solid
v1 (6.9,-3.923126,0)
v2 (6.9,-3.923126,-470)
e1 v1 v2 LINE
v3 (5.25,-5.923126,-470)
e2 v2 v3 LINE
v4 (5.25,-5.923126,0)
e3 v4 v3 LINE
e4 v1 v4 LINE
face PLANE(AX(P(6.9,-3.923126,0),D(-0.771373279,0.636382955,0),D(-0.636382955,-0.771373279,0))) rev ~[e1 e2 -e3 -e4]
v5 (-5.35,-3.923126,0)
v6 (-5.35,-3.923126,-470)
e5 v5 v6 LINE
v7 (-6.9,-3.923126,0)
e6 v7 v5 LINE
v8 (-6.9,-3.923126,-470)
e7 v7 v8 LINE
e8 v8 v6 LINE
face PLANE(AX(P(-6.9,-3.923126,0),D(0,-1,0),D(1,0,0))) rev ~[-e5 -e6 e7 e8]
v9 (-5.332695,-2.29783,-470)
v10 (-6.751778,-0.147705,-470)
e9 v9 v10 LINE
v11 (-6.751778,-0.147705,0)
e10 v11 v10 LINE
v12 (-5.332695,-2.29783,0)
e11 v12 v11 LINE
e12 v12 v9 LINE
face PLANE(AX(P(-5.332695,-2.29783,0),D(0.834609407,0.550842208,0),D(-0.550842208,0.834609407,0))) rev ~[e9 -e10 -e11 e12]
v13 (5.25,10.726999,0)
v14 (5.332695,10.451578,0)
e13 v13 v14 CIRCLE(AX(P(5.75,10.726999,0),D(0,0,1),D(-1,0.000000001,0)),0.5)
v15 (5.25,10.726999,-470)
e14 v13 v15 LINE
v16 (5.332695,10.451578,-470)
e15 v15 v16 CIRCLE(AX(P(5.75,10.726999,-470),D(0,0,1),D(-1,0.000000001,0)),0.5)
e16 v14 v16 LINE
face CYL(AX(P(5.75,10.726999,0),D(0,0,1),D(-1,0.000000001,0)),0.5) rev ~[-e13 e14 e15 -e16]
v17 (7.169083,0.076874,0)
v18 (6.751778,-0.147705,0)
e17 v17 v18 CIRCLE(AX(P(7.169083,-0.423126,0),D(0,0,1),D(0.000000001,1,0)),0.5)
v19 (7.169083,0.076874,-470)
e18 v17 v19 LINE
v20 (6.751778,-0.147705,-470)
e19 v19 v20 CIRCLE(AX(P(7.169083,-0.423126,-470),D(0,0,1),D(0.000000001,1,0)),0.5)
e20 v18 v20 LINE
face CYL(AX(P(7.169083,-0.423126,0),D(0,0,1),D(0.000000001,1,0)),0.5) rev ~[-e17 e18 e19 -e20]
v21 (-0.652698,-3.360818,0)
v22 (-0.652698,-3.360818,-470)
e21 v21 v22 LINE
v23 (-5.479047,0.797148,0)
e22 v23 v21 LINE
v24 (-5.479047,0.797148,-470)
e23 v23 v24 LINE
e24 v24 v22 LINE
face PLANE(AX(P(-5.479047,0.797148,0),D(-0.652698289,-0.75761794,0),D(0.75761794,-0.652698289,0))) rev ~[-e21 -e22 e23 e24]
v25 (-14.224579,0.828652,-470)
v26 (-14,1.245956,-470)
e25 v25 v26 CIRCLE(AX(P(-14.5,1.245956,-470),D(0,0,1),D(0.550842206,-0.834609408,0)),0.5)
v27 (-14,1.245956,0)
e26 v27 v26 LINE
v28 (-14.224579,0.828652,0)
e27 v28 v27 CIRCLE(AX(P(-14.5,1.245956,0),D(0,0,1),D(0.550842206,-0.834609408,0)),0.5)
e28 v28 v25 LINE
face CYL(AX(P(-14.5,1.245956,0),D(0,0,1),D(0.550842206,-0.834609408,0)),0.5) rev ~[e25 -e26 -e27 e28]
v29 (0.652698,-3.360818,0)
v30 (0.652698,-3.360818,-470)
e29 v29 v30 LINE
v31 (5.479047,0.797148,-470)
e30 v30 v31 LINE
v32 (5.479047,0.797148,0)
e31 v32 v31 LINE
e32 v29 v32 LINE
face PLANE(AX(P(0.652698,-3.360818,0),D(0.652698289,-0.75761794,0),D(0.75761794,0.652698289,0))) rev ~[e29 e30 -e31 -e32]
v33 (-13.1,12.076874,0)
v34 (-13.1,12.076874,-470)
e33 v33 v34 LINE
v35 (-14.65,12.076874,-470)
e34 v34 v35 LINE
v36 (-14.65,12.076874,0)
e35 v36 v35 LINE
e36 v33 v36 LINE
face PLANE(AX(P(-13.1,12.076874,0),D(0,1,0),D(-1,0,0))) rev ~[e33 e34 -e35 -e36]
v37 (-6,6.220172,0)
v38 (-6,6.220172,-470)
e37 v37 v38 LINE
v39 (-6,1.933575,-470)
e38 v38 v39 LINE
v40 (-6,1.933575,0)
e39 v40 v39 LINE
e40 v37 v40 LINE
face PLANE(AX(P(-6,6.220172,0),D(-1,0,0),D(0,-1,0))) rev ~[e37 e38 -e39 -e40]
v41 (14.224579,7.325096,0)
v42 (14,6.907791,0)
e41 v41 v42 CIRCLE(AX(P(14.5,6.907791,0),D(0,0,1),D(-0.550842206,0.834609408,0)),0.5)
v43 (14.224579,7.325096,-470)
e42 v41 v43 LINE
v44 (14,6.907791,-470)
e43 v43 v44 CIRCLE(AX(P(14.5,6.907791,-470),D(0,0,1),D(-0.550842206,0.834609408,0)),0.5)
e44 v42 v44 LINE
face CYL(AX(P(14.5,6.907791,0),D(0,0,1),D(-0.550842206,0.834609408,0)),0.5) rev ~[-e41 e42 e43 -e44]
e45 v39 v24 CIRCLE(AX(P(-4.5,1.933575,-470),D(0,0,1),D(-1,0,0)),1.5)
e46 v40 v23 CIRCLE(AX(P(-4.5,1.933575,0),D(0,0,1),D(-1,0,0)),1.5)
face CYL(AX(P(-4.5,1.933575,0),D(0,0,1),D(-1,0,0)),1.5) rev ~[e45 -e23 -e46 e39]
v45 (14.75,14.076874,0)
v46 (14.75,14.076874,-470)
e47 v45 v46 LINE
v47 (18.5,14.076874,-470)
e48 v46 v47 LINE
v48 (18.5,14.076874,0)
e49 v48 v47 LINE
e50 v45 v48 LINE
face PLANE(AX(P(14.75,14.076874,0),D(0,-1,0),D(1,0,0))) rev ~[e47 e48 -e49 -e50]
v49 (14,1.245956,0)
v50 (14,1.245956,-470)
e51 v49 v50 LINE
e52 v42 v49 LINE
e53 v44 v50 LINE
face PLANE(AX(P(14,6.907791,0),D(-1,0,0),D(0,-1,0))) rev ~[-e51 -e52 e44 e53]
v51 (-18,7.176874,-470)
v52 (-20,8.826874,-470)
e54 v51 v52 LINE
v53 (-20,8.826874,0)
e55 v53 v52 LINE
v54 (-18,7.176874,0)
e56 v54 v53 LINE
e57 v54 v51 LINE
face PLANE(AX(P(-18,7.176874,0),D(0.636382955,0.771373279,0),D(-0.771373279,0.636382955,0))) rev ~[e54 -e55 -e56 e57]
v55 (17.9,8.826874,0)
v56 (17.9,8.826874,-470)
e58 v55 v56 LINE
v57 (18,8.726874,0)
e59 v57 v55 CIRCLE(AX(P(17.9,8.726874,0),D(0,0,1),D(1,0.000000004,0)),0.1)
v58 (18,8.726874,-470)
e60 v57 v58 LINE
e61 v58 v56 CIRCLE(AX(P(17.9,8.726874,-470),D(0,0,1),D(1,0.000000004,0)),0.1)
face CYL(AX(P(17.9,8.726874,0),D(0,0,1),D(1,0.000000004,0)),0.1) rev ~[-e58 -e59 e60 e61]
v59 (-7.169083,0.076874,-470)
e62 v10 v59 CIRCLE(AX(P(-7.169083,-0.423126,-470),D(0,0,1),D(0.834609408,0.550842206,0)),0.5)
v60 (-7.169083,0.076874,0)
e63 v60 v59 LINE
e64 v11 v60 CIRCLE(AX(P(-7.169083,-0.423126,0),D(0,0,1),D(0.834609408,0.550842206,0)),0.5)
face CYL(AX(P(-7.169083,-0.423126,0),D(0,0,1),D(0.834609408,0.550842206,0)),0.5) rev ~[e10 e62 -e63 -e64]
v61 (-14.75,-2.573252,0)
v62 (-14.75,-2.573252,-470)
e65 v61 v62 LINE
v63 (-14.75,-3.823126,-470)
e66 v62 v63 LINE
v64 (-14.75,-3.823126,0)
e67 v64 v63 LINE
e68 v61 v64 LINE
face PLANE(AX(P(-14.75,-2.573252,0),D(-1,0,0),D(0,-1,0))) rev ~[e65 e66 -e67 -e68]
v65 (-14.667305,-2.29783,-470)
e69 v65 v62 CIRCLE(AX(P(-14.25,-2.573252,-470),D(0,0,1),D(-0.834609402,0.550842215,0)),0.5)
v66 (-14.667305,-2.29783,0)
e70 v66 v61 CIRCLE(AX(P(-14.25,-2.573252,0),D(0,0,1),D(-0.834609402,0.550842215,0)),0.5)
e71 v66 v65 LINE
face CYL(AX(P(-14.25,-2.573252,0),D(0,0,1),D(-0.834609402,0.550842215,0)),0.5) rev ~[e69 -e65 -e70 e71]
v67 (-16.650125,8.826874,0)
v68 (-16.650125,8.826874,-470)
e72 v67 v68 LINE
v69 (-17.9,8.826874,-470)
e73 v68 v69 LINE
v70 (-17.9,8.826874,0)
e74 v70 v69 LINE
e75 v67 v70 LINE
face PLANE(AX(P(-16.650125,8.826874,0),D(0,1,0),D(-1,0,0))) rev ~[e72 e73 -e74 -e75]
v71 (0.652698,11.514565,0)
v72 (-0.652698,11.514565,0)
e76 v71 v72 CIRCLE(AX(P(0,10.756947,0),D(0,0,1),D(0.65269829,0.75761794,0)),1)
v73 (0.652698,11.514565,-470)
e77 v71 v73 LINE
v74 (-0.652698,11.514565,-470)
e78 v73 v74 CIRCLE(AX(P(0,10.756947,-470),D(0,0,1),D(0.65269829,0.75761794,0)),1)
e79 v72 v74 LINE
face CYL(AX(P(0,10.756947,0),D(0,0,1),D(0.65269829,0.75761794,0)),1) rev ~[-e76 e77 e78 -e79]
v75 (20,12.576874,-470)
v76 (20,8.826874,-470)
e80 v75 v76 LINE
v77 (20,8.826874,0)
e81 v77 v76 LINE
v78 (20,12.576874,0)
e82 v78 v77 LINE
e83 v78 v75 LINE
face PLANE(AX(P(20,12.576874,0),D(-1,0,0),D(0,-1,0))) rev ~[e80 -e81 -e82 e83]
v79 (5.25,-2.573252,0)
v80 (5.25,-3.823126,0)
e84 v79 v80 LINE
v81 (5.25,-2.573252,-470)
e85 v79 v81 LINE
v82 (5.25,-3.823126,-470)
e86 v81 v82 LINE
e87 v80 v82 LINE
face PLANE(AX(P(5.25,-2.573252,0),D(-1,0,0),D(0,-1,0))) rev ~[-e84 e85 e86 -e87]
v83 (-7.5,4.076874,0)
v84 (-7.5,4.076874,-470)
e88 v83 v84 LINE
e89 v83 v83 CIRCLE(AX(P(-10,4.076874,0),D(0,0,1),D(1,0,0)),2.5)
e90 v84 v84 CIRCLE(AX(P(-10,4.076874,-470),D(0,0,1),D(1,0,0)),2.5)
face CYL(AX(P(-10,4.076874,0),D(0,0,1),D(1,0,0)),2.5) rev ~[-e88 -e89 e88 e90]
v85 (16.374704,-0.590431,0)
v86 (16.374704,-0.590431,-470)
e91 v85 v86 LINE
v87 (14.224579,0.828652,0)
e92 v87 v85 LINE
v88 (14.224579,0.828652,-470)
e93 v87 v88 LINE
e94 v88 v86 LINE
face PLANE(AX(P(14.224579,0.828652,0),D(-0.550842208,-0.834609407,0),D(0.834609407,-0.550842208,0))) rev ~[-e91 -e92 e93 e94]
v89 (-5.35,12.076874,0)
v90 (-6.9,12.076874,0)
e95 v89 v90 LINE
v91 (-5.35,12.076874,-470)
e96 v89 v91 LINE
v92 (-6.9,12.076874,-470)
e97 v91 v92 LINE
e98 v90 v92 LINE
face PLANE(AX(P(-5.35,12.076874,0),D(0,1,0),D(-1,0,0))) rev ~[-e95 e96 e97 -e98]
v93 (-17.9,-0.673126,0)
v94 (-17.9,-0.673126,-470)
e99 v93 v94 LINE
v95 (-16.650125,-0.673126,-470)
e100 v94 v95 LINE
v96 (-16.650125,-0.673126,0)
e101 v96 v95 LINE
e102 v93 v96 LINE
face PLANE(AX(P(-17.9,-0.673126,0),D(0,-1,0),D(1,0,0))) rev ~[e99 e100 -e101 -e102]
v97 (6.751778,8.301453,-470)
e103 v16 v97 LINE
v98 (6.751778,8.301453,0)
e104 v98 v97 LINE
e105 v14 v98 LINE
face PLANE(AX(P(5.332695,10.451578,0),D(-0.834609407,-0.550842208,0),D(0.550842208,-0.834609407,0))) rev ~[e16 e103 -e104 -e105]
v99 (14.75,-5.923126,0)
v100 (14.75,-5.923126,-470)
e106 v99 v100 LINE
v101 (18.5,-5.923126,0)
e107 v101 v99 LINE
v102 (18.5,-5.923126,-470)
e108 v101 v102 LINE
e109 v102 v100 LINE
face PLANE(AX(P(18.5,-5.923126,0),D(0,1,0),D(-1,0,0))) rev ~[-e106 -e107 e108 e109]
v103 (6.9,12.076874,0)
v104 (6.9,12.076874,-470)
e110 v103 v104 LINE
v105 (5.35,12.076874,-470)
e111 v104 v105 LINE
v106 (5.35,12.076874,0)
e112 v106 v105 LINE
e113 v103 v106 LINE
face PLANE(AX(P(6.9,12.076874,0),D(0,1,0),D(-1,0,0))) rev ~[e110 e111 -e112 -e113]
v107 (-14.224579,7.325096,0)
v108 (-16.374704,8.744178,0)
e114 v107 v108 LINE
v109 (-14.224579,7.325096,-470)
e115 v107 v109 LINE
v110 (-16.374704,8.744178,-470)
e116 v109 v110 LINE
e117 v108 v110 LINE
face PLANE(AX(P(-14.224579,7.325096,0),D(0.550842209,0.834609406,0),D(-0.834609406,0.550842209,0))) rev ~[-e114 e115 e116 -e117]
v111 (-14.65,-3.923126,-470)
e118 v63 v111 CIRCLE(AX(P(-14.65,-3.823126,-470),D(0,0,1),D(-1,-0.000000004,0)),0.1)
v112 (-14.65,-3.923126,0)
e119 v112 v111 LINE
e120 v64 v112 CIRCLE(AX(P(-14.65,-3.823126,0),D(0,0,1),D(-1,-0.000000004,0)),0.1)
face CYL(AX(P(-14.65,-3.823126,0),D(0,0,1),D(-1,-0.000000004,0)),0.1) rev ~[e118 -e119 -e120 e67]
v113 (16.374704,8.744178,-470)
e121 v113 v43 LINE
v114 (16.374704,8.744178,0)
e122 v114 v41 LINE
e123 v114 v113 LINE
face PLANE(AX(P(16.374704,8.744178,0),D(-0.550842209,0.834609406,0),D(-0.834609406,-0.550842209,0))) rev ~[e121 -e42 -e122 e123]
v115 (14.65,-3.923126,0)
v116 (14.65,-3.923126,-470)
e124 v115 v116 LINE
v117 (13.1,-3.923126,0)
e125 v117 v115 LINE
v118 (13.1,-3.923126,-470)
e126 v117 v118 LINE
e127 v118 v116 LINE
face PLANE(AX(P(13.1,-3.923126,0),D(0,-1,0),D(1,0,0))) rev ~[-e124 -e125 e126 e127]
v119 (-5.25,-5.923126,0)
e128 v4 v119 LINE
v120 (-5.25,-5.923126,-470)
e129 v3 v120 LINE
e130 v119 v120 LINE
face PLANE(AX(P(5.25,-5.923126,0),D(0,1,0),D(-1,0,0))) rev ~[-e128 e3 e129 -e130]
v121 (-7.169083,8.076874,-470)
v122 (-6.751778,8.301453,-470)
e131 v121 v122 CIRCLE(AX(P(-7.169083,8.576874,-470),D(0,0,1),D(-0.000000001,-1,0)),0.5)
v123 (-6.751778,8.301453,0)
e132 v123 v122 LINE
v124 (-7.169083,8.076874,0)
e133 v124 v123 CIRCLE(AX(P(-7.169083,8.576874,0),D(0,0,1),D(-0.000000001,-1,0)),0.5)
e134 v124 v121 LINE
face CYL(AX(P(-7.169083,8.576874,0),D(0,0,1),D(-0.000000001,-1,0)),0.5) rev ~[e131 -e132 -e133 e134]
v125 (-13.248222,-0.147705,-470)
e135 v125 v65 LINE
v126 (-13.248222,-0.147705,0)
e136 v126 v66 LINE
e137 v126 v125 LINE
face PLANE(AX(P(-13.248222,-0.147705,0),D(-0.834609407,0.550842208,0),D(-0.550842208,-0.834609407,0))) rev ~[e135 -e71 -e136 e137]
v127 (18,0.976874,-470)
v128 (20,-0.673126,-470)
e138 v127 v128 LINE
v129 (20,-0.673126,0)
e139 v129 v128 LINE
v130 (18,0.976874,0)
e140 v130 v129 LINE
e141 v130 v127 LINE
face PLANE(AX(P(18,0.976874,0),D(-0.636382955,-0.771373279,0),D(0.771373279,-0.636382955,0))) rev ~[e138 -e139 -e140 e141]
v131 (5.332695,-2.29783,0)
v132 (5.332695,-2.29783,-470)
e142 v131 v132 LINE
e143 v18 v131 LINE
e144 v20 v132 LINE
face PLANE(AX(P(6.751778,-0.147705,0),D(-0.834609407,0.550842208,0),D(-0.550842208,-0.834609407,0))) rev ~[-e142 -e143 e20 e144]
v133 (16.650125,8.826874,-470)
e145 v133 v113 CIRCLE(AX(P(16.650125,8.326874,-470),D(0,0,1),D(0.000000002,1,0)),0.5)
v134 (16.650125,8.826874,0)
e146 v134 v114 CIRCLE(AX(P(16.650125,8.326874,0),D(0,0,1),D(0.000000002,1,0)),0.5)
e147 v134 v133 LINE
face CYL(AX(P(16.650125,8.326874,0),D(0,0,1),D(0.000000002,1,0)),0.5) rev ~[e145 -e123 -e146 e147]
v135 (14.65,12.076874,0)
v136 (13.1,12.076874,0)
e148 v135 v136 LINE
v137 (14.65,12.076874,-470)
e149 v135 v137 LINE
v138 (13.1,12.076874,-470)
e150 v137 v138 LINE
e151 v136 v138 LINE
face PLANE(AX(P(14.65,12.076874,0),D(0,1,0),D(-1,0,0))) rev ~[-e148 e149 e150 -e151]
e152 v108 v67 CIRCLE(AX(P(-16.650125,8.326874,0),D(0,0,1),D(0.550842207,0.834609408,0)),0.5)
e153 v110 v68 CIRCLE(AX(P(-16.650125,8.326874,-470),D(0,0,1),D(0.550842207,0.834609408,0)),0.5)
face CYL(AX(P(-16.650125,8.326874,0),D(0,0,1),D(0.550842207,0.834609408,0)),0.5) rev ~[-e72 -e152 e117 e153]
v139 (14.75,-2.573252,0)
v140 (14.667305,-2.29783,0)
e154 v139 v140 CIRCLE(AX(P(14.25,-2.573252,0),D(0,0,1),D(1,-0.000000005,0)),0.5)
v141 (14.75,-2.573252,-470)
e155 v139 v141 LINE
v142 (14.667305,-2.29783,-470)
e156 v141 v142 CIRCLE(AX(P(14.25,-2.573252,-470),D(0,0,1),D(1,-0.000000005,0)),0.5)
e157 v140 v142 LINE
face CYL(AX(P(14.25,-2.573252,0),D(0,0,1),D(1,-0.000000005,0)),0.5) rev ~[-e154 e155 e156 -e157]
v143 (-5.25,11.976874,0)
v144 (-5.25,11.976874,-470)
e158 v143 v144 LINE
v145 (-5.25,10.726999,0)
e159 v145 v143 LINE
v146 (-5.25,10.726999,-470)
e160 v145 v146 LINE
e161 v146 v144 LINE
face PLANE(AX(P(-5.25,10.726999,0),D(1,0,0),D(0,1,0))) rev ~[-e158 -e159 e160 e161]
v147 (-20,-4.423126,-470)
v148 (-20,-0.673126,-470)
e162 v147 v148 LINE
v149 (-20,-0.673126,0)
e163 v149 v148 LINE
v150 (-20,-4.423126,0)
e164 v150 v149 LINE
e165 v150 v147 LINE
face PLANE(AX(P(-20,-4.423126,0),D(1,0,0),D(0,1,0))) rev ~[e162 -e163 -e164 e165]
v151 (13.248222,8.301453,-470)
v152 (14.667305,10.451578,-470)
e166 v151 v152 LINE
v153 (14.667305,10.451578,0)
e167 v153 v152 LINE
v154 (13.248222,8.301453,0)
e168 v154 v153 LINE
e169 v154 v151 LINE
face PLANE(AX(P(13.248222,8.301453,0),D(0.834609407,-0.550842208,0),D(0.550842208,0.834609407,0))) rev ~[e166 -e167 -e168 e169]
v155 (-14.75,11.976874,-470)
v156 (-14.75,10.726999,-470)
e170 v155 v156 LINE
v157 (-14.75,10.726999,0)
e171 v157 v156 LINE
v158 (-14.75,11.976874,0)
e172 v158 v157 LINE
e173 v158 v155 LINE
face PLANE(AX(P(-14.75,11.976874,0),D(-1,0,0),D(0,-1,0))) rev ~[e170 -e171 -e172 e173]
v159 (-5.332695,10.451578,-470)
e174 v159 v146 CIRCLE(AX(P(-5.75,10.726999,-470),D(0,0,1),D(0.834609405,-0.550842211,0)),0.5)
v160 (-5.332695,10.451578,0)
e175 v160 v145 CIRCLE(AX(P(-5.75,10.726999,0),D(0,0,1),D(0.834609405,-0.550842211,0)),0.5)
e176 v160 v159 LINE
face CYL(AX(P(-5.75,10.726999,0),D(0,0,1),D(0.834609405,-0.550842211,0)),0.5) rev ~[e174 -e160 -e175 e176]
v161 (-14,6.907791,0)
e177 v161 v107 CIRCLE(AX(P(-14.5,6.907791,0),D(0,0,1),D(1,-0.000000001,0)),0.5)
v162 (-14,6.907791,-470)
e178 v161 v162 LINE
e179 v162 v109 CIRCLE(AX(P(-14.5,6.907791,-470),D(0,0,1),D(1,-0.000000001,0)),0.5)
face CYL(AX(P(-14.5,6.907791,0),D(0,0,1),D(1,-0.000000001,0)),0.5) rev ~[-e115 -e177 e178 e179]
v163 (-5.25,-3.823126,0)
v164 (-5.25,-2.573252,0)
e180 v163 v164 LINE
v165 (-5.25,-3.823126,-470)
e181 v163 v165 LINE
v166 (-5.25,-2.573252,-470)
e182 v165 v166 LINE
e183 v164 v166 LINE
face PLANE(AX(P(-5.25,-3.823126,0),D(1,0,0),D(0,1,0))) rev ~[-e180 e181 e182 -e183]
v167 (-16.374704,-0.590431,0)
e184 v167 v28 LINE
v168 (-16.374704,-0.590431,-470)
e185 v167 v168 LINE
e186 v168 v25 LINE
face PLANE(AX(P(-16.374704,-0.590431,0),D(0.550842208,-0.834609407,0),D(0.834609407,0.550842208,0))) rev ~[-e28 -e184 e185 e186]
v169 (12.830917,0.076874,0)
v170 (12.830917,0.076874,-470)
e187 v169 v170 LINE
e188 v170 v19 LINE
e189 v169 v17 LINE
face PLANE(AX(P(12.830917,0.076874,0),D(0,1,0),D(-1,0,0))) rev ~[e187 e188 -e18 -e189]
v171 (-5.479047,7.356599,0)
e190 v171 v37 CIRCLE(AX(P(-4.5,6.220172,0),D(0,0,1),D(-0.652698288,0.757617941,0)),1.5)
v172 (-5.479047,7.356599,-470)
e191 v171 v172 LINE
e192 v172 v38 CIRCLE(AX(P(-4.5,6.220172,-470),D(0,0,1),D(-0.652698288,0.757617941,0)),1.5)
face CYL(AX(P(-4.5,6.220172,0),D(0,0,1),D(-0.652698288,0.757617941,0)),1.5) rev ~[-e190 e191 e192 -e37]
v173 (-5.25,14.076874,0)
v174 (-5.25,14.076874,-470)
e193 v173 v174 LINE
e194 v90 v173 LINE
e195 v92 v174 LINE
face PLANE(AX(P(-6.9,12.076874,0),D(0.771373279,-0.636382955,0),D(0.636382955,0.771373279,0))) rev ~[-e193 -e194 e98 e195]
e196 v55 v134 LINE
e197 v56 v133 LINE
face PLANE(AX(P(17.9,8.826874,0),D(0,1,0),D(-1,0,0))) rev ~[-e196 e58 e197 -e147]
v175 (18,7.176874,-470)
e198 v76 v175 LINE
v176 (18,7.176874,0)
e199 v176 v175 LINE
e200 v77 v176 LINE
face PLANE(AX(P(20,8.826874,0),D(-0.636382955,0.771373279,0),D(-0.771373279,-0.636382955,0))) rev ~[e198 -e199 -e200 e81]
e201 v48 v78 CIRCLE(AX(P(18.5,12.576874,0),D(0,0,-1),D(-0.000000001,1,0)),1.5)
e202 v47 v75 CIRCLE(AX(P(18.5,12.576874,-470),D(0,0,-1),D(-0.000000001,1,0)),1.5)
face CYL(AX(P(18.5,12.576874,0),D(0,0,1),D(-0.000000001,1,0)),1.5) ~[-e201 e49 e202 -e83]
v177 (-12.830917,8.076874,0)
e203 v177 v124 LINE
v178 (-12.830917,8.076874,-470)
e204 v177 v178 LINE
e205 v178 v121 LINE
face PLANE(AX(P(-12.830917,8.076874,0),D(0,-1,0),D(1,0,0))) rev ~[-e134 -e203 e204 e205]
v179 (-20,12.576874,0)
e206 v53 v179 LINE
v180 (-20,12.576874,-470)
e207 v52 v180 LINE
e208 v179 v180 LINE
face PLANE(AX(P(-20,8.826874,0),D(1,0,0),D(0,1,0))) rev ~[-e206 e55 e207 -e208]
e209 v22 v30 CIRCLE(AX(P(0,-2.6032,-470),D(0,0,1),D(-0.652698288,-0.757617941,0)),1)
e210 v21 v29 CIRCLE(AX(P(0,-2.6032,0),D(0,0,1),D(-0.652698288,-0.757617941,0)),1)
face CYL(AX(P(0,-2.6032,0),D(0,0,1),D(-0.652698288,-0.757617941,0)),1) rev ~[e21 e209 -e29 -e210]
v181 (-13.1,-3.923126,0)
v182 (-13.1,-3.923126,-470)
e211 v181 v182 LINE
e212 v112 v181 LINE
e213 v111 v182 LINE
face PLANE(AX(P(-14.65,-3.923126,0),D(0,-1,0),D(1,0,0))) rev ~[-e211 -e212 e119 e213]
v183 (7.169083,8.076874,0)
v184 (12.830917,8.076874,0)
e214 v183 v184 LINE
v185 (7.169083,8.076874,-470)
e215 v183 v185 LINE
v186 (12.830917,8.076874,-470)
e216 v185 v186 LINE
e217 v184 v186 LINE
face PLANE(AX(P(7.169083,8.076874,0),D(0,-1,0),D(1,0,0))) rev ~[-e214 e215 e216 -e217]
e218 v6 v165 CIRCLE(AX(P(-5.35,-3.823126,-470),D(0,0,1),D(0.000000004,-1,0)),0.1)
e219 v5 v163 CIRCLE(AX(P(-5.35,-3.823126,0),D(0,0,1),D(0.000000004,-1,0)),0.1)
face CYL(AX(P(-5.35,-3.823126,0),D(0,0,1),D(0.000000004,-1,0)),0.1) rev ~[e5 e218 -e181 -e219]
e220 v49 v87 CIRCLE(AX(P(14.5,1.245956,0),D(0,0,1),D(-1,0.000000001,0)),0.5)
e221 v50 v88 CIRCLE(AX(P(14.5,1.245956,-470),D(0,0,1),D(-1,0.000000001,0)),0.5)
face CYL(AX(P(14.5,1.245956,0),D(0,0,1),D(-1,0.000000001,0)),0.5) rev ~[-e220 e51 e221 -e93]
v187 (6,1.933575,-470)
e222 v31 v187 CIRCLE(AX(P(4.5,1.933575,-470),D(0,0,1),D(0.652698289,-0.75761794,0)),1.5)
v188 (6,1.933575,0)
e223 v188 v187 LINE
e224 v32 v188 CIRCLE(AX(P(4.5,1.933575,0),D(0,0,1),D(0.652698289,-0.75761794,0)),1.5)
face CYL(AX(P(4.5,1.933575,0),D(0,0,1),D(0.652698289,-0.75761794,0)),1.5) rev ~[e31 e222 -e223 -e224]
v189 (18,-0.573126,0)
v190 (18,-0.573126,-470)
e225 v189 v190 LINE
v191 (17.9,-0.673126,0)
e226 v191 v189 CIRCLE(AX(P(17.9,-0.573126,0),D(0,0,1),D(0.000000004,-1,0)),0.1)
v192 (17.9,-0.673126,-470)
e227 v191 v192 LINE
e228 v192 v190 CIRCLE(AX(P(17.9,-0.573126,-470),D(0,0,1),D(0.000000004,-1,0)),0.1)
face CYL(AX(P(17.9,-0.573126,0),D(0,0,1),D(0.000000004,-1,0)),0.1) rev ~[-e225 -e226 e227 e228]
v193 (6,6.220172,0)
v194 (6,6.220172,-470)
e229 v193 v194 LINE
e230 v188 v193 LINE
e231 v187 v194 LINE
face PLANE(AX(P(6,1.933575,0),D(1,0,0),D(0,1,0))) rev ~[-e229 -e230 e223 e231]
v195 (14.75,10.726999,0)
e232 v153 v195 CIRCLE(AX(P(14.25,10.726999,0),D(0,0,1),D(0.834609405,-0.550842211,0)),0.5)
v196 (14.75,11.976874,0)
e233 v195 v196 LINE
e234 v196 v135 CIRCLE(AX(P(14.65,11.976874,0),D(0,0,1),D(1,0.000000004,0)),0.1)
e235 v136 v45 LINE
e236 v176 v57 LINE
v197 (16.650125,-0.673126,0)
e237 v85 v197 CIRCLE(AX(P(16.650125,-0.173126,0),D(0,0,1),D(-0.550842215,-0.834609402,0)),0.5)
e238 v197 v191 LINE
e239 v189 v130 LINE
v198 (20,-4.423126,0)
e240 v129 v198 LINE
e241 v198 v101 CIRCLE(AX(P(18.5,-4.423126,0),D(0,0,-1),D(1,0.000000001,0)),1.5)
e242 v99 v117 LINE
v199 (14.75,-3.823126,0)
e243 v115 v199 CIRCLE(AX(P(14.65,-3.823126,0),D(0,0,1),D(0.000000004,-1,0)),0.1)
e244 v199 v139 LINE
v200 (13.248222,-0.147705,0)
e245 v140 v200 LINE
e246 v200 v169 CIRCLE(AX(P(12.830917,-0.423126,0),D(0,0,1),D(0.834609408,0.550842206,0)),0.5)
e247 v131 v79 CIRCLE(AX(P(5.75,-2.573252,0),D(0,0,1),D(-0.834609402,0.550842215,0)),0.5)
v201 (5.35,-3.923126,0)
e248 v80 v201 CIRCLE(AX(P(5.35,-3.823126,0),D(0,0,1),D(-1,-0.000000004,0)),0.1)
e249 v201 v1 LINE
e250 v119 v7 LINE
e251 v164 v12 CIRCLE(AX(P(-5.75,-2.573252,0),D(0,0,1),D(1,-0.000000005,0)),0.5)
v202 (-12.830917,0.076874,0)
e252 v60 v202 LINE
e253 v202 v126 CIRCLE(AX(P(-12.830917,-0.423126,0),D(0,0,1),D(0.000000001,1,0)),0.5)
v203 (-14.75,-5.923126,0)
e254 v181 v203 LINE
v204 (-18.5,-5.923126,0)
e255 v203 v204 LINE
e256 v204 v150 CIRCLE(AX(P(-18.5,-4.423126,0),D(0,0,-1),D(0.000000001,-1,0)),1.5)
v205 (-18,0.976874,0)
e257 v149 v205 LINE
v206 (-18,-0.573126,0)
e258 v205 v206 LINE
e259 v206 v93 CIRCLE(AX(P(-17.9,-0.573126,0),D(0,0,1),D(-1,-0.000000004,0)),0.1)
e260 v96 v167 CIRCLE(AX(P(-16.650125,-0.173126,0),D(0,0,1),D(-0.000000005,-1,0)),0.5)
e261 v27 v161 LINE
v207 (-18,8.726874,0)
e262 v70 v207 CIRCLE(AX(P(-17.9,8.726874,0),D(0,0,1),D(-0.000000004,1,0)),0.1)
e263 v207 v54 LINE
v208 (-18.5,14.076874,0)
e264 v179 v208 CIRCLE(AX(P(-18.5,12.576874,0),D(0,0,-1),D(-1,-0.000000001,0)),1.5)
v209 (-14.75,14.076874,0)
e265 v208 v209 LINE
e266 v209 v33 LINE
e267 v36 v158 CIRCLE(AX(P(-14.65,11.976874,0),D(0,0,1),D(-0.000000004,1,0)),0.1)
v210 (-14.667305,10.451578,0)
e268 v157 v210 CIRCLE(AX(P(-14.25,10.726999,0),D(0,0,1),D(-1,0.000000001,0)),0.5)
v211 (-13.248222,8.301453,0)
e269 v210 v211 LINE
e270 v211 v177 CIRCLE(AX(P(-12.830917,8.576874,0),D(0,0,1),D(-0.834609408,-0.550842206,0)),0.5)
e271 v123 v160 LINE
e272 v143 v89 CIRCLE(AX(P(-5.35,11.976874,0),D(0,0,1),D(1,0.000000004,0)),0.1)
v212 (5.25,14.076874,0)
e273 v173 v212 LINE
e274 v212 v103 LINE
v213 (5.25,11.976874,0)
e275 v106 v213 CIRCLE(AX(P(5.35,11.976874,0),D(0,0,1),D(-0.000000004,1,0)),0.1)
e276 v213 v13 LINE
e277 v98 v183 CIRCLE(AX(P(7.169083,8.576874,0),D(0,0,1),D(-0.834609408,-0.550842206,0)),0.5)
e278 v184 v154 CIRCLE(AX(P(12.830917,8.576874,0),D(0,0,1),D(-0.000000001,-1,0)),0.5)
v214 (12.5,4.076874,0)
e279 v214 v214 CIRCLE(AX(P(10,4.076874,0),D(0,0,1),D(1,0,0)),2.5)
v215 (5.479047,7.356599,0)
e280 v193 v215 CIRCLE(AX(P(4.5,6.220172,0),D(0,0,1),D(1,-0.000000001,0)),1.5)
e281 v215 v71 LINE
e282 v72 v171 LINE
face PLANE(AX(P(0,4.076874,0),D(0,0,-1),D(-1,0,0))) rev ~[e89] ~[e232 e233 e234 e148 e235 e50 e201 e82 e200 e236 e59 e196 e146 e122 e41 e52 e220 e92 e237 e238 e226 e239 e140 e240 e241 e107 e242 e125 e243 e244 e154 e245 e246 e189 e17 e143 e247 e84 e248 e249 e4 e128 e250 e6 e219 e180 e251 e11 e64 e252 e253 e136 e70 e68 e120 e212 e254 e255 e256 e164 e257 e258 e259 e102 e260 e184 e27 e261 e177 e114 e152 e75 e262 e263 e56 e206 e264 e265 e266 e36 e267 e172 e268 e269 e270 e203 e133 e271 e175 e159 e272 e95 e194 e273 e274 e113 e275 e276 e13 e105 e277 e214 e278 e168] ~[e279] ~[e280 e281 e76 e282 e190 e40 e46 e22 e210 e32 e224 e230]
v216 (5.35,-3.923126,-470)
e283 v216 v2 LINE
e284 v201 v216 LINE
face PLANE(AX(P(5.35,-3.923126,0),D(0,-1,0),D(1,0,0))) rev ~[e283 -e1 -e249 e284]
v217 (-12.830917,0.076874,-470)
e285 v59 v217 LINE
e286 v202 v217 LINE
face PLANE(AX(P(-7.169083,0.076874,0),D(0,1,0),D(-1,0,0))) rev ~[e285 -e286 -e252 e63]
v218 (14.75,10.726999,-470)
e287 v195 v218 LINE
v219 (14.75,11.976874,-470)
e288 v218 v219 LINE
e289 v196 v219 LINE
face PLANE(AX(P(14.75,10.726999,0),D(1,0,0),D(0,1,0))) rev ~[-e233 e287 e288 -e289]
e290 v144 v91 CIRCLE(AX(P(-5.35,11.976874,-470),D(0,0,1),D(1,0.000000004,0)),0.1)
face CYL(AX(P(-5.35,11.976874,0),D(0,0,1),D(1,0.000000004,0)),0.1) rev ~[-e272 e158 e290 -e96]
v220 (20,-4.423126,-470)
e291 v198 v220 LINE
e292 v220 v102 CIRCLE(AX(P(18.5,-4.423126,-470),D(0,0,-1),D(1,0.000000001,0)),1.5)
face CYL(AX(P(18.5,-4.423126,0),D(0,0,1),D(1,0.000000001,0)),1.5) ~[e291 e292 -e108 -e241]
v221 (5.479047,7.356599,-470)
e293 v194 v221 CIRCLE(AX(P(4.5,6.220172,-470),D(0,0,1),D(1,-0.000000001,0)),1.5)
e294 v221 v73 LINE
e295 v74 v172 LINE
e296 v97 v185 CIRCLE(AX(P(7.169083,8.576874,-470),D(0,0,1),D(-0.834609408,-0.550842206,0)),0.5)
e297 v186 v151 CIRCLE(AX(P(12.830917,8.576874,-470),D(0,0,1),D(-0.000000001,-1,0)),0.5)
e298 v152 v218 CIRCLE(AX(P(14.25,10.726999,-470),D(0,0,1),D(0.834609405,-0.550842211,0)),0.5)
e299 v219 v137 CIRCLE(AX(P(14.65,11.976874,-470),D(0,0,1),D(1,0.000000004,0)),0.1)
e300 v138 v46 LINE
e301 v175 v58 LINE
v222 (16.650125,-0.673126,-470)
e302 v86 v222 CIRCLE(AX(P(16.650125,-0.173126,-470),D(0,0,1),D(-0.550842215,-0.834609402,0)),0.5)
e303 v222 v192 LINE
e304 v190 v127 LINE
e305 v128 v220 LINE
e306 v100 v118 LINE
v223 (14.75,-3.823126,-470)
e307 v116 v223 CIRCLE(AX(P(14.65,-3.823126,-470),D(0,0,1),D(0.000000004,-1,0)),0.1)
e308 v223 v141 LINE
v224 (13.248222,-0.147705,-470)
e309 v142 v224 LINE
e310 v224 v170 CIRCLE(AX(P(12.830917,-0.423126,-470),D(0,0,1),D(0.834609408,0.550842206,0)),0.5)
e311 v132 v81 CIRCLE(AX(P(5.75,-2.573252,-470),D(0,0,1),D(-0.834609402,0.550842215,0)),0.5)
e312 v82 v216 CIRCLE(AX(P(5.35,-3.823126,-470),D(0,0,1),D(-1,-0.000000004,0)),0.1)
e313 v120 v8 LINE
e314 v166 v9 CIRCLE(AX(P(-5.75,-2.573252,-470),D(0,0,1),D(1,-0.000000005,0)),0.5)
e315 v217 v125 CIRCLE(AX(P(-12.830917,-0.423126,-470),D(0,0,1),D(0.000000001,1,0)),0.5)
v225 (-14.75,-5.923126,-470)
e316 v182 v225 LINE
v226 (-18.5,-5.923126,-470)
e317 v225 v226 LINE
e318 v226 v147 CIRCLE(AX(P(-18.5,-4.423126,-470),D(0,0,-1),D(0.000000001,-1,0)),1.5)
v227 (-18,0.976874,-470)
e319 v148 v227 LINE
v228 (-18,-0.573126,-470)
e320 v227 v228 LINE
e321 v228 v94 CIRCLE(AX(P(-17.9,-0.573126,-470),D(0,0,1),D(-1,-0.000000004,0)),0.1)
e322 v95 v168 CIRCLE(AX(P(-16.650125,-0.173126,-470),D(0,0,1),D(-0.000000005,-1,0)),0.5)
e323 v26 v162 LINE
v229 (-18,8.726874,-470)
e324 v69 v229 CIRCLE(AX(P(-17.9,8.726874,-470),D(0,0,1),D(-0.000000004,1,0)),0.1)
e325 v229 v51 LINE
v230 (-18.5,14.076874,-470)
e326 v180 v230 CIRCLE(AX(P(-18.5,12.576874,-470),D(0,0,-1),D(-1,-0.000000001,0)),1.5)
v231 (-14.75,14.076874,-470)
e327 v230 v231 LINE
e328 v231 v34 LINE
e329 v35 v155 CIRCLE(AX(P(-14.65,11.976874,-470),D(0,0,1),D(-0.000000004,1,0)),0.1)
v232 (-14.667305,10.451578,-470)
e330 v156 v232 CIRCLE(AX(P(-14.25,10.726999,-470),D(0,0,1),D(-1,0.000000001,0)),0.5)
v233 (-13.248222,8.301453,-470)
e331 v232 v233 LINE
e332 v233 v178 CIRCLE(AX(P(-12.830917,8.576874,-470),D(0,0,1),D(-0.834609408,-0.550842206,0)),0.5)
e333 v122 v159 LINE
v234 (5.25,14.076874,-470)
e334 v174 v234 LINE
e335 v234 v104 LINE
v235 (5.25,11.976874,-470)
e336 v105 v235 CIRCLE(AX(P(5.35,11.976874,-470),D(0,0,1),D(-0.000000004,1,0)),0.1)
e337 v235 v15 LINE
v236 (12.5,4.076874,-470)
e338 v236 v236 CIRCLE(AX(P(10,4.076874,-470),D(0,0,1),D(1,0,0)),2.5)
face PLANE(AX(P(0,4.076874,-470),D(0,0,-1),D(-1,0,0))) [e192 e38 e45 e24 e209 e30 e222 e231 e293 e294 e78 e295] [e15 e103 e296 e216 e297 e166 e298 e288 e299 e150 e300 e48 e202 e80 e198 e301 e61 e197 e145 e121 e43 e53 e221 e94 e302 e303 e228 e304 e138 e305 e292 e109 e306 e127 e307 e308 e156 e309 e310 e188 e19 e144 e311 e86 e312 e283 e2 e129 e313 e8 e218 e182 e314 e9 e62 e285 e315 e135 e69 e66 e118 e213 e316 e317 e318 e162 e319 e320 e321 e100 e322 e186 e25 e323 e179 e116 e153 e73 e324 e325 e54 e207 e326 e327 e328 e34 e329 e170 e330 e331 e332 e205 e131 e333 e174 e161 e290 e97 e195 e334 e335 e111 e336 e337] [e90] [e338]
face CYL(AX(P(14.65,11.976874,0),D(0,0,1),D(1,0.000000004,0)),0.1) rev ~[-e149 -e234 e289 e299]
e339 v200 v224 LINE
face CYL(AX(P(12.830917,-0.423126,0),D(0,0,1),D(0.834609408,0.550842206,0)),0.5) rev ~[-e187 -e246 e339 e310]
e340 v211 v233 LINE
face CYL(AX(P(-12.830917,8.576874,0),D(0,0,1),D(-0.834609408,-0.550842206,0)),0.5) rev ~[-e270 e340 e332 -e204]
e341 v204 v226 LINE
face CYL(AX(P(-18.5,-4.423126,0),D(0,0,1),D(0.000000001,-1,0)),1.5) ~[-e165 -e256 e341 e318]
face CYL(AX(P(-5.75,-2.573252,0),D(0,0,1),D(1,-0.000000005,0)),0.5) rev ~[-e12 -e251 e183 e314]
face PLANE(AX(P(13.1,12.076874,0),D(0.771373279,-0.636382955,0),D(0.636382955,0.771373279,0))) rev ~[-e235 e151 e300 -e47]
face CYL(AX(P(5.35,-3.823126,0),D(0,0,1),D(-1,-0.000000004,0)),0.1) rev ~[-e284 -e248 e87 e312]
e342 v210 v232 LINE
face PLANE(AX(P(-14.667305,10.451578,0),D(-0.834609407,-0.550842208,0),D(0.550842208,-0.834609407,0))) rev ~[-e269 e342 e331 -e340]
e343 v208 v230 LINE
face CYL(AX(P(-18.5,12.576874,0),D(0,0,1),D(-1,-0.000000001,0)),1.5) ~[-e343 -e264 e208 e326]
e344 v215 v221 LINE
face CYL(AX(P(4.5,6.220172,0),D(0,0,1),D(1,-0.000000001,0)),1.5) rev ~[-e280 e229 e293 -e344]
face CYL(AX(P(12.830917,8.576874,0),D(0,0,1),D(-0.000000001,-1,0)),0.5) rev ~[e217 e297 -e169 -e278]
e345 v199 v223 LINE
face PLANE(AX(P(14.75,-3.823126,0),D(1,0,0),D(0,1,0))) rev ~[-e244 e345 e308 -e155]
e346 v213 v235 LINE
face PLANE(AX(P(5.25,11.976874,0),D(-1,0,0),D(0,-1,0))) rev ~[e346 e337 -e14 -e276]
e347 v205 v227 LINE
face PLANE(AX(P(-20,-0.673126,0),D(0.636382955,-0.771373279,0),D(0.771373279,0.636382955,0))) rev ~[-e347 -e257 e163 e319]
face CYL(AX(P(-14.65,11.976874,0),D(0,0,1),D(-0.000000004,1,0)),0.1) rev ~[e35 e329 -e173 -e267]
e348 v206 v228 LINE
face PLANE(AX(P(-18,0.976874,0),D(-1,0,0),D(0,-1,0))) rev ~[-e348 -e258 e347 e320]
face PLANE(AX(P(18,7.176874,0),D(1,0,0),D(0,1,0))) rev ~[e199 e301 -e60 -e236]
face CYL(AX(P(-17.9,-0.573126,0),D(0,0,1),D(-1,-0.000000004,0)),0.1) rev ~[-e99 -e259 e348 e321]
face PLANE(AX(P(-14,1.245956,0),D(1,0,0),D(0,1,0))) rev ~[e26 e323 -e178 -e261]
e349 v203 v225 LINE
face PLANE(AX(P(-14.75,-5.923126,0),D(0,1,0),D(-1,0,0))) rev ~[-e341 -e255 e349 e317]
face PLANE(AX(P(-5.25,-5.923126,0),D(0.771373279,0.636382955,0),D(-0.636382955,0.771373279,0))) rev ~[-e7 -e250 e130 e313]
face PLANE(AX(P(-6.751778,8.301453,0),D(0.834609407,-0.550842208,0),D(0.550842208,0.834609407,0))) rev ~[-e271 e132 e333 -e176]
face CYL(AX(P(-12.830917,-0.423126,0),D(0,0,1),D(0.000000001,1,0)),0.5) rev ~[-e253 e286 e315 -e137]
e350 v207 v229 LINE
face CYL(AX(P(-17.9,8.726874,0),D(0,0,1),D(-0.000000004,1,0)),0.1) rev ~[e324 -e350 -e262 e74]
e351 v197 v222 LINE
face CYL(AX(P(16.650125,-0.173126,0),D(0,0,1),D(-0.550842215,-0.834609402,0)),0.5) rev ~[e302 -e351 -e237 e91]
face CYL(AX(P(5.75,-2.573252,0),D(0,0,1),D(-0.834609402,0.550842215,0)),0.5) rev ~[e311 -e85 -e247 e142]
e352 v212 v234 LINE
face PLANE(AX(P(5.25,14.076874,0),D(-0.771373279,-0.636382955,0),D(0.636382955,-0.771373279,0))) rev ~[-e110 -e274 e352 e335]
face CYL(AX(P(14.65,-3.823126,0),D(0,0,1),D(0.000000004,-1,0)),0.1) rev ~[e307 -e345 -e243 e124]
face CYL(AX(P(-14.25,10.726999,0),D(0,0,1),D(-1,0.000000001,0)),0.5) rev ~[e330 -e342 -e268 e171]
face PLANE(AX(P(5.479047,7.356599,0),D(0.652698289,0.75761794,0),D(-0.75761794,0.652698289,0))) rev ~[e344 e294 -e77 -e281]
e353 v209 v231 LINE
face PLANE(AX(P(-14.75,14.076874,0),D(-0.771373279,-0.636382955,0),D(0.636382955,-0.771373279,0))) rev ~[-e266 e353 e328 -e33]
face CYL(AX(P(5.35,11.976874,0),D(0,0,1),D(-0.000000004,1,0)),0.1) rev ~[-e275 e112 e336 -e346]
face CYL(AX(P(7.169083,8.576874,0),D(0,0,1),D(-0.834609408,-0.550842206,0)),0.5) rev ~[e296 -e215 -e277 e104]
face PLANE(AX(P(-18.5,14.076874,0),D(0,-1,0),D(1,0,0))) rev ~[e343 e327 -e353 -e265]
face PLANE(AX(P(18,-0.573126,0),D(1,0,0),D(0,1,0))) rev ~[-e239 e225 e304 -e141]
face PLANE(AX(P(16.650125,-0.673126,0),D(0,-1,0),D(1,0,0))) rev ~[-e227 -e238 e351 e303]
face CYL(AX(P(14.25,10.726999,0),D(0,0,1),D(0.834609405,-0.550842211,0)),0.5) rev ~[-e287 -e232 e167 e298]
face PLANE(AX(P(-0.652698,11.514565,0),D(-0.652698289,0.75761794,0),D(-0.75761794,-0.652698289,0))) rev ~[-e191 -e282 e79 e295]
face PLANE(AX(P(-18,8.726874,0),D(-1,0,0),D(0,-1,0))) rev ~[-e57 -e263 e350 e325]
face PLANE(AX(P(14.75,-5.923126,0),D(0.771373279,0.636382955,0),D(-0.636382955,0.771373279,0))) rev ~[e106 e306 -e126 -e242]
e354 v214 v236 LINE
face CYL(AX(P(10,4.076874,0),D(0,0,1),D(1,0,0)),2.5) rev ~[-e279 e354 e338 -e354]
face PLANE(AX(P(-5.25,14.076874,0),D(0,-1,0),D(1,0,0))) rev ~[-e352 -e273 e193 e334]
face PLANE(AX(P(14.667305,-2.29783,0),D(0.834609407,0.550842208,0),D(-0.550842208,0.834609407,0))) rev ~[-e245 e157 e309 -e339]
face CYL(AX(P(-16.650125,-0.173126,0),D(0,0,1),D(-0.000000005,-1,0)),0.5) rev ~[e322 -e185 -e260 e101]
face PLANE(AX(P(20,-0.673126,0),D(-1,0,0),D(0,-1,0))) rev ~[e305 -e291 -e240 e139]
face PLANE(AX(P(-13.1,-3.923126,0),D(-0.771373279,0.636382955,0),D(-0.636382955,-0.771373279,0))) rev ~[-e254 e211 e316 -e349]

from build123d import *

# Parameters (mm, degrees)
SKETCH_1_R      = 2.5
EXTRUDE_1_DEPTH = 470


with BuildPart() as part:
    # Эскиз1 → Бобышка-Вытянуть1 (new body)
    with BuildSketch(Plane.XY):
        with BuildLine():
            Line((-18.5, 14.076873633), (-14.75, 14.076873633))
            Line((-14.75, 14.076873633), (-13.1, 12.076873633))
            Line((-13.1, 12.076873633), (-14.65, 12.076873633))
            ThreePointArc((-14.65, 12.076873633), (-14.720710678, 12.047584311), (-14.75, 11.976873633))
            Line((-14.75, 11.976873633), (-14.75, 10.726998833))
            ThreePointArc((-14.75, 10.726998833), (-14.728880127, 10.583214884), (-14.667304703, 10.451577729))
            Line((-14.667304703, 10.451577729), (-13.248222071, 8.301452529))
            ThreePointArc((-13.248222071, 8.301452529), (-13.067866147, 8.136583642), (-12.830917368, 8.076873633))
            Line((-12.830917368, 8.076873633), (-7.169082632, 8.076873633))
            ThreePointArc((-7.169082632, 8.076873633), (-6.932133853, 8.136583642), (-6.751777929, 8.301452529))
            Line((-6.751777929, 8.301452529), (-5.332695297, 10.451577729))
            ThreePointArc((-5.332695297, 10.451577729), (-5.271119873, 10.583214884), (-5.25, 10.726998833))
            Line((-5.25, 10.726998833), (-5.25, 11.976873633))
            ThreePointArc((-5.25, 11.976873633), (-5.279289322, 12.047584311), (-5.35, 12.076873633))
            Line((-5.35, 12.076873633), (-6.9, 12.076873633))
            Line((-6.9, 12.076873633), (-5.25, 14.076873633))
            Line((-5.25, 14.076873633), (5.25, 14.076873633))
            Line((5.25, 14.076873633), (6.9, 12.076873633))
            Line((6.9, 12.076873633), (5.35, 12.076873633))
            ThreePointArc((5.35, 12.076873633), (5.279289322, 12.047584311), (5.25, 11.976873633))
            Line((5.25, 11.976873633), (5.25, 10.726998833))
            ThreePointArc((5.25, 10.726998833), (5.271119873, 10.583214884), (5.332695297, 10.451577729))
            Line((5.332695297, 10.451577729), (6.751777929, 8.301452529))
            ThreePointArc((6.751777929, 8.301452529), (6.932133853, 8.136583642), (7.169082632, 8.076873633))
            Line((7.169082632, 8.076873633), (12.830917368, 8.076873633))
            ThreePointArc((12.830917368, 8.076873633), (13.067866147, 8.136583642), (13.248222071, 8.301452529))
            Line((13.248222071, 8.301452529), (14.667304703, 10.451577729))
            ThreePointArc((14.667304703, 10.451577729), (14.728880127, 10.583214884), (14.75, 10.726998833))
            Line((14.75, 10.726998833), (14.75, 11.976873633))
            ThreePointArc((14.75, 11.976873633), (14.720710678, 12.047584311), (14.65, 12.076873633))
            Line((14.65, 12.076873633), (13.1, 12.076873633))
            Line((13.1, 12.076873633), (14.75, 14.076873633))
            Line((14.75, 14.076873633), (18.5, 14.076873633))
            ThreePointArc((18.5, 14.076873633), (19.560660172, 13.637533805), (20, 12.576873633))
            Line((20, 12.576873633), (20, 8.826873633))
            Line((20, 8.826873633), (18, 7.176873633))
            Line((18, 7.176873633), (18, 8.726873633))
            ThreePointArc((18, 8.726873633), (17.970710678, 8.797584311), (17.9, 8.826873633))
            Line((17.9, 8.826873633), (16.6501252, 8.826873633))
            ThreePointArc((16.6501252, 8.826873633), (16.50634125, 8.80575376), (16.374704096, 8.744178337))
            Line((16.374704096, 8.744178337), (14.224578896, 7.325095704))
            ThreePointArc((14.224578896, 7.325095704), (14.059710009, 7.14473978), (14, 6.907791001))
            Line((14, 6.907791001), (14, 1.245956265))
            ThreePointArc((14, 1.245956265), (14.059710009, 1.009007486), (14.224578896, 0.828651562))
            Line((14.224578896, 0.828651562), (16.374704096, -0.59043107))
            ThreePointArc((16.374704096, -0.59043107), (16.50634125, -0.652006494), (16.6501252, -0.673126367))
            Line((16.6501252, -0.673126367), (17.9, -0.673126367))
            ThreePointArc((17.9, -0.673126367), (17.970710678, -0.643837045), (18, -0.573126367))
            Line((18, -0.573126367), (18, 0.976873633))
            Line((18, 0.976873633), (20, -0.673126367))
            Line((20, -0.673126367), (20, -4.423126367))
            ThreePointArc((20, -4.423126367), (19.560660172, -5.483786539), (18.5, -5.923126367))
            Line((18.5, -5.923126367), (14.75, -5.923126367))
            Line((14.75, -5.923126367), (13.1, -3.923126367))
            Line((13.1, -3.923126367), (14.65, -3.923126367))
            ThreePointArc((14.65, -3.923126367), (14.720710678, -3.893837045), (14.75, -3.823126367))
            Line((14.75, -3.823126367), (14.75, -2.573251567))
            ThreePointArc((14.75, -2.573251567), (14.728880127, -2.429467617), (14.667304703, -2.297830463))
            Line((14.667304703, -2.297830463), (13.248222071, -0.147705263))
            ThreePointArc((13.248222071, -0.147705263), (13.067866147, 0.017163624), (12.830917368, 0.076873633))
            Line((12.830917368, 0.076873633), (7.169082632, 0.076873633))
            ThreePointArc((7.169082632, 0.076873633), (6.932133853, 0.017163624), (6.751777929, -0.147705263))
            Line((6.751777929, -0.147705263), (5.332695297, -2.297830463))
            ThreePointArc((5.332695297, -2.297830463), (5.271119873, -2.429467617), (5.25, -2.573251567))
            Line((5.25, -2.573251567), (5.25, -3.823126367))
            ThreePointArc((5.25, -3.823126367), (5.279289322, -3.893837045), (5.35, -3.923126367))
            Line((5.35, -3.923126367), (6.9, -3.923126367))
            Line((6.9, -3.923126367), (5.25, -5.923126367))
            Line((5.25, -5.923126367), (-5.25, -5.923126367))
            Line((-5.25, -5.923126367), (-6.9, -3.923126367))
            Line((-6.9, -3.923126367), (-5.35, -3.923126367))
            ThreePointArc((-5.35, -3.923126367), (-5.279289322, -3.893837045), (-5.25, -3.823126367))
            Line((-5.25, -3.823126367), (-5.25, -2.573251567))
            ThreePointArc((-5.25, -2.573251567), (-5.271119873, -2.429467617), (-5.332695297, -2.297830463))
            Line((-5.332695297, -2.297830463), (-6.751777929, -0.147705263))
            ThreePointArc((-6.751777929, -0.147705263), (-6.932133853, 0.017163624), (-7.169082632, 0.076873633))
            Line((-7.169082632, 0.076873633), (-12.830917368, 0.076873633))
            ThreePointArc((-12.830917368, 0.076873633), (-13.067866147, 0.017163624), (-13.248222071, -0.147705263))
            Line((-13.248222071, -0.147705263), (-14.667304703, -2.297830463))
            ThreePointArc((-14.667304703, -2.297830463), (-14.728880127, -2.429467617), (-14.75, -2.573251567))
            Line((-14.75, -2.573251567), (-14.75, -3.823126367))
            ThreePointArc((-14.75, -3.823126367), (-14.720710678, -3.893837045), (-14.65, -3.923126367))
            Line((-14.65, -3.923126367), (-13.1, -3.923126367))
            Line((-13.1, -3.923126367), (-14.75, -5.923126367))
            Line((-14.75, -5.923126367), (-18.5, -5.923126367))
            ThreePointArc((-18.5, -5.923126367), (-19.560660172, -5.483786539), (-20, -4.423126367))
            Line((-20, -4.423126367), (-20, -0.673126367))
            Line((-20, -0.673126367), (-18, 0.976873633))
            Line((-18, 0.976873633), (-18, -0.573126367))
            ThreePointArc((-18, -0.573126367), (-17.970710678, -0.643837045), (-17.9, -0.673126367))
            Line((-17.9, -0.673126367), (-16.6501252, -0.673126367))
            ThreePointArc((-16.6501252, -0.673126367), (-16.50634125, -0.652006494), (-16.374704096, -0.59043107))
            Line((-16.374704096, -0.59043107), (-14.224578896, 0.828651562))
            ThreePointArc((-14.224578896, 0.828651562), (-14.059710009, 1.009007486), (-14, 1.245956265))
            Line((-14, 1.245956265), (-14, 6.907791001))
            ThreePointArc((-14, 6.907791001), (-14.059710009, 7.14473978), (-14.224578896, 7.325095704))
            Line((-14.224578896, 7.325095704), (-16.374704096, 8.744178337))
            ThreePointArc((-16.374704096, 8.744178337), (-16.50634125, 8.80575376), (-16.6501252, 8.826873633))
            Line((-16.6501252, 8.826873633), (-17.9, 8.826873633))
            ThreePointArc((-17.9, 8.826873633), (-17.970710678, 8.797584311), (-18, 8.726873633))
            Line((-18, 8.726873633), (-18, 7.176873633))
            Line((-18, 7.176873633), (-20, 8.826873633))
            Line((-20, 8.826873633), (-20, 12.576873633))
            ThreePointArc((-20, 12.576873633), (-19.560660172, 13.637533805), (-18.5, 14.076873633))
        make_face()
        with Locations((-10, 4.076873633)):
            Circle(SKETCH_1_R, mode=Mode.SUBTRACT)
        with Locations((10, 4.076873633)):
            Circle(SKETCH_1_R, mode=Mode.SUBTRACT)
        with BuildLine():
            Line((-6, 6.220171901), (-6, 1.933575365))
            ThreePointArc((-6, 1.933575365), (-5.863556224, 1.30850383), (-5.479047434, 0.797148455))
            Line((-5.479047434, 0.797148455), (-0.652698289, -3.360817802))
            ThreePointArc((-0.652698289, -3.360817802), (0, -3.603199861), (0.652698289, -3.360817802))
            Line((0.652698289, -3.360817802), (5.479047434, 0.797148455))
            ThreePointArc((5.479047434, 0.797148455), (5.863556224, 1.30850383), (6, 1.933575365))
            Line((6, 1.933575365), (6, 6.220171901))
            ThreePointArc((6, 6.220171901), (5.863556224, 6.845243437), (5.479047434, 7.356598811))
            Line((5.479047434, 7.356598811), (0.652698289, 11.514565068))
            ThreePointArc((0.652698289, 11.514565068), (0, 11.756947128), (-0.652698289, 11.514565068))
            Line((-0.652698289, 11.514565068), (-5.479047434, 7.356598811))
            ThreePointArc((-5.479047434, 7.356598811), (-5.863556224, 6.845243437), (-6, 6.220171901))
        make_face(mode=Mode.SUBTRACT)
    extrude(amount=-EXTRUDE_1_DEPTH)


solid = part.part
